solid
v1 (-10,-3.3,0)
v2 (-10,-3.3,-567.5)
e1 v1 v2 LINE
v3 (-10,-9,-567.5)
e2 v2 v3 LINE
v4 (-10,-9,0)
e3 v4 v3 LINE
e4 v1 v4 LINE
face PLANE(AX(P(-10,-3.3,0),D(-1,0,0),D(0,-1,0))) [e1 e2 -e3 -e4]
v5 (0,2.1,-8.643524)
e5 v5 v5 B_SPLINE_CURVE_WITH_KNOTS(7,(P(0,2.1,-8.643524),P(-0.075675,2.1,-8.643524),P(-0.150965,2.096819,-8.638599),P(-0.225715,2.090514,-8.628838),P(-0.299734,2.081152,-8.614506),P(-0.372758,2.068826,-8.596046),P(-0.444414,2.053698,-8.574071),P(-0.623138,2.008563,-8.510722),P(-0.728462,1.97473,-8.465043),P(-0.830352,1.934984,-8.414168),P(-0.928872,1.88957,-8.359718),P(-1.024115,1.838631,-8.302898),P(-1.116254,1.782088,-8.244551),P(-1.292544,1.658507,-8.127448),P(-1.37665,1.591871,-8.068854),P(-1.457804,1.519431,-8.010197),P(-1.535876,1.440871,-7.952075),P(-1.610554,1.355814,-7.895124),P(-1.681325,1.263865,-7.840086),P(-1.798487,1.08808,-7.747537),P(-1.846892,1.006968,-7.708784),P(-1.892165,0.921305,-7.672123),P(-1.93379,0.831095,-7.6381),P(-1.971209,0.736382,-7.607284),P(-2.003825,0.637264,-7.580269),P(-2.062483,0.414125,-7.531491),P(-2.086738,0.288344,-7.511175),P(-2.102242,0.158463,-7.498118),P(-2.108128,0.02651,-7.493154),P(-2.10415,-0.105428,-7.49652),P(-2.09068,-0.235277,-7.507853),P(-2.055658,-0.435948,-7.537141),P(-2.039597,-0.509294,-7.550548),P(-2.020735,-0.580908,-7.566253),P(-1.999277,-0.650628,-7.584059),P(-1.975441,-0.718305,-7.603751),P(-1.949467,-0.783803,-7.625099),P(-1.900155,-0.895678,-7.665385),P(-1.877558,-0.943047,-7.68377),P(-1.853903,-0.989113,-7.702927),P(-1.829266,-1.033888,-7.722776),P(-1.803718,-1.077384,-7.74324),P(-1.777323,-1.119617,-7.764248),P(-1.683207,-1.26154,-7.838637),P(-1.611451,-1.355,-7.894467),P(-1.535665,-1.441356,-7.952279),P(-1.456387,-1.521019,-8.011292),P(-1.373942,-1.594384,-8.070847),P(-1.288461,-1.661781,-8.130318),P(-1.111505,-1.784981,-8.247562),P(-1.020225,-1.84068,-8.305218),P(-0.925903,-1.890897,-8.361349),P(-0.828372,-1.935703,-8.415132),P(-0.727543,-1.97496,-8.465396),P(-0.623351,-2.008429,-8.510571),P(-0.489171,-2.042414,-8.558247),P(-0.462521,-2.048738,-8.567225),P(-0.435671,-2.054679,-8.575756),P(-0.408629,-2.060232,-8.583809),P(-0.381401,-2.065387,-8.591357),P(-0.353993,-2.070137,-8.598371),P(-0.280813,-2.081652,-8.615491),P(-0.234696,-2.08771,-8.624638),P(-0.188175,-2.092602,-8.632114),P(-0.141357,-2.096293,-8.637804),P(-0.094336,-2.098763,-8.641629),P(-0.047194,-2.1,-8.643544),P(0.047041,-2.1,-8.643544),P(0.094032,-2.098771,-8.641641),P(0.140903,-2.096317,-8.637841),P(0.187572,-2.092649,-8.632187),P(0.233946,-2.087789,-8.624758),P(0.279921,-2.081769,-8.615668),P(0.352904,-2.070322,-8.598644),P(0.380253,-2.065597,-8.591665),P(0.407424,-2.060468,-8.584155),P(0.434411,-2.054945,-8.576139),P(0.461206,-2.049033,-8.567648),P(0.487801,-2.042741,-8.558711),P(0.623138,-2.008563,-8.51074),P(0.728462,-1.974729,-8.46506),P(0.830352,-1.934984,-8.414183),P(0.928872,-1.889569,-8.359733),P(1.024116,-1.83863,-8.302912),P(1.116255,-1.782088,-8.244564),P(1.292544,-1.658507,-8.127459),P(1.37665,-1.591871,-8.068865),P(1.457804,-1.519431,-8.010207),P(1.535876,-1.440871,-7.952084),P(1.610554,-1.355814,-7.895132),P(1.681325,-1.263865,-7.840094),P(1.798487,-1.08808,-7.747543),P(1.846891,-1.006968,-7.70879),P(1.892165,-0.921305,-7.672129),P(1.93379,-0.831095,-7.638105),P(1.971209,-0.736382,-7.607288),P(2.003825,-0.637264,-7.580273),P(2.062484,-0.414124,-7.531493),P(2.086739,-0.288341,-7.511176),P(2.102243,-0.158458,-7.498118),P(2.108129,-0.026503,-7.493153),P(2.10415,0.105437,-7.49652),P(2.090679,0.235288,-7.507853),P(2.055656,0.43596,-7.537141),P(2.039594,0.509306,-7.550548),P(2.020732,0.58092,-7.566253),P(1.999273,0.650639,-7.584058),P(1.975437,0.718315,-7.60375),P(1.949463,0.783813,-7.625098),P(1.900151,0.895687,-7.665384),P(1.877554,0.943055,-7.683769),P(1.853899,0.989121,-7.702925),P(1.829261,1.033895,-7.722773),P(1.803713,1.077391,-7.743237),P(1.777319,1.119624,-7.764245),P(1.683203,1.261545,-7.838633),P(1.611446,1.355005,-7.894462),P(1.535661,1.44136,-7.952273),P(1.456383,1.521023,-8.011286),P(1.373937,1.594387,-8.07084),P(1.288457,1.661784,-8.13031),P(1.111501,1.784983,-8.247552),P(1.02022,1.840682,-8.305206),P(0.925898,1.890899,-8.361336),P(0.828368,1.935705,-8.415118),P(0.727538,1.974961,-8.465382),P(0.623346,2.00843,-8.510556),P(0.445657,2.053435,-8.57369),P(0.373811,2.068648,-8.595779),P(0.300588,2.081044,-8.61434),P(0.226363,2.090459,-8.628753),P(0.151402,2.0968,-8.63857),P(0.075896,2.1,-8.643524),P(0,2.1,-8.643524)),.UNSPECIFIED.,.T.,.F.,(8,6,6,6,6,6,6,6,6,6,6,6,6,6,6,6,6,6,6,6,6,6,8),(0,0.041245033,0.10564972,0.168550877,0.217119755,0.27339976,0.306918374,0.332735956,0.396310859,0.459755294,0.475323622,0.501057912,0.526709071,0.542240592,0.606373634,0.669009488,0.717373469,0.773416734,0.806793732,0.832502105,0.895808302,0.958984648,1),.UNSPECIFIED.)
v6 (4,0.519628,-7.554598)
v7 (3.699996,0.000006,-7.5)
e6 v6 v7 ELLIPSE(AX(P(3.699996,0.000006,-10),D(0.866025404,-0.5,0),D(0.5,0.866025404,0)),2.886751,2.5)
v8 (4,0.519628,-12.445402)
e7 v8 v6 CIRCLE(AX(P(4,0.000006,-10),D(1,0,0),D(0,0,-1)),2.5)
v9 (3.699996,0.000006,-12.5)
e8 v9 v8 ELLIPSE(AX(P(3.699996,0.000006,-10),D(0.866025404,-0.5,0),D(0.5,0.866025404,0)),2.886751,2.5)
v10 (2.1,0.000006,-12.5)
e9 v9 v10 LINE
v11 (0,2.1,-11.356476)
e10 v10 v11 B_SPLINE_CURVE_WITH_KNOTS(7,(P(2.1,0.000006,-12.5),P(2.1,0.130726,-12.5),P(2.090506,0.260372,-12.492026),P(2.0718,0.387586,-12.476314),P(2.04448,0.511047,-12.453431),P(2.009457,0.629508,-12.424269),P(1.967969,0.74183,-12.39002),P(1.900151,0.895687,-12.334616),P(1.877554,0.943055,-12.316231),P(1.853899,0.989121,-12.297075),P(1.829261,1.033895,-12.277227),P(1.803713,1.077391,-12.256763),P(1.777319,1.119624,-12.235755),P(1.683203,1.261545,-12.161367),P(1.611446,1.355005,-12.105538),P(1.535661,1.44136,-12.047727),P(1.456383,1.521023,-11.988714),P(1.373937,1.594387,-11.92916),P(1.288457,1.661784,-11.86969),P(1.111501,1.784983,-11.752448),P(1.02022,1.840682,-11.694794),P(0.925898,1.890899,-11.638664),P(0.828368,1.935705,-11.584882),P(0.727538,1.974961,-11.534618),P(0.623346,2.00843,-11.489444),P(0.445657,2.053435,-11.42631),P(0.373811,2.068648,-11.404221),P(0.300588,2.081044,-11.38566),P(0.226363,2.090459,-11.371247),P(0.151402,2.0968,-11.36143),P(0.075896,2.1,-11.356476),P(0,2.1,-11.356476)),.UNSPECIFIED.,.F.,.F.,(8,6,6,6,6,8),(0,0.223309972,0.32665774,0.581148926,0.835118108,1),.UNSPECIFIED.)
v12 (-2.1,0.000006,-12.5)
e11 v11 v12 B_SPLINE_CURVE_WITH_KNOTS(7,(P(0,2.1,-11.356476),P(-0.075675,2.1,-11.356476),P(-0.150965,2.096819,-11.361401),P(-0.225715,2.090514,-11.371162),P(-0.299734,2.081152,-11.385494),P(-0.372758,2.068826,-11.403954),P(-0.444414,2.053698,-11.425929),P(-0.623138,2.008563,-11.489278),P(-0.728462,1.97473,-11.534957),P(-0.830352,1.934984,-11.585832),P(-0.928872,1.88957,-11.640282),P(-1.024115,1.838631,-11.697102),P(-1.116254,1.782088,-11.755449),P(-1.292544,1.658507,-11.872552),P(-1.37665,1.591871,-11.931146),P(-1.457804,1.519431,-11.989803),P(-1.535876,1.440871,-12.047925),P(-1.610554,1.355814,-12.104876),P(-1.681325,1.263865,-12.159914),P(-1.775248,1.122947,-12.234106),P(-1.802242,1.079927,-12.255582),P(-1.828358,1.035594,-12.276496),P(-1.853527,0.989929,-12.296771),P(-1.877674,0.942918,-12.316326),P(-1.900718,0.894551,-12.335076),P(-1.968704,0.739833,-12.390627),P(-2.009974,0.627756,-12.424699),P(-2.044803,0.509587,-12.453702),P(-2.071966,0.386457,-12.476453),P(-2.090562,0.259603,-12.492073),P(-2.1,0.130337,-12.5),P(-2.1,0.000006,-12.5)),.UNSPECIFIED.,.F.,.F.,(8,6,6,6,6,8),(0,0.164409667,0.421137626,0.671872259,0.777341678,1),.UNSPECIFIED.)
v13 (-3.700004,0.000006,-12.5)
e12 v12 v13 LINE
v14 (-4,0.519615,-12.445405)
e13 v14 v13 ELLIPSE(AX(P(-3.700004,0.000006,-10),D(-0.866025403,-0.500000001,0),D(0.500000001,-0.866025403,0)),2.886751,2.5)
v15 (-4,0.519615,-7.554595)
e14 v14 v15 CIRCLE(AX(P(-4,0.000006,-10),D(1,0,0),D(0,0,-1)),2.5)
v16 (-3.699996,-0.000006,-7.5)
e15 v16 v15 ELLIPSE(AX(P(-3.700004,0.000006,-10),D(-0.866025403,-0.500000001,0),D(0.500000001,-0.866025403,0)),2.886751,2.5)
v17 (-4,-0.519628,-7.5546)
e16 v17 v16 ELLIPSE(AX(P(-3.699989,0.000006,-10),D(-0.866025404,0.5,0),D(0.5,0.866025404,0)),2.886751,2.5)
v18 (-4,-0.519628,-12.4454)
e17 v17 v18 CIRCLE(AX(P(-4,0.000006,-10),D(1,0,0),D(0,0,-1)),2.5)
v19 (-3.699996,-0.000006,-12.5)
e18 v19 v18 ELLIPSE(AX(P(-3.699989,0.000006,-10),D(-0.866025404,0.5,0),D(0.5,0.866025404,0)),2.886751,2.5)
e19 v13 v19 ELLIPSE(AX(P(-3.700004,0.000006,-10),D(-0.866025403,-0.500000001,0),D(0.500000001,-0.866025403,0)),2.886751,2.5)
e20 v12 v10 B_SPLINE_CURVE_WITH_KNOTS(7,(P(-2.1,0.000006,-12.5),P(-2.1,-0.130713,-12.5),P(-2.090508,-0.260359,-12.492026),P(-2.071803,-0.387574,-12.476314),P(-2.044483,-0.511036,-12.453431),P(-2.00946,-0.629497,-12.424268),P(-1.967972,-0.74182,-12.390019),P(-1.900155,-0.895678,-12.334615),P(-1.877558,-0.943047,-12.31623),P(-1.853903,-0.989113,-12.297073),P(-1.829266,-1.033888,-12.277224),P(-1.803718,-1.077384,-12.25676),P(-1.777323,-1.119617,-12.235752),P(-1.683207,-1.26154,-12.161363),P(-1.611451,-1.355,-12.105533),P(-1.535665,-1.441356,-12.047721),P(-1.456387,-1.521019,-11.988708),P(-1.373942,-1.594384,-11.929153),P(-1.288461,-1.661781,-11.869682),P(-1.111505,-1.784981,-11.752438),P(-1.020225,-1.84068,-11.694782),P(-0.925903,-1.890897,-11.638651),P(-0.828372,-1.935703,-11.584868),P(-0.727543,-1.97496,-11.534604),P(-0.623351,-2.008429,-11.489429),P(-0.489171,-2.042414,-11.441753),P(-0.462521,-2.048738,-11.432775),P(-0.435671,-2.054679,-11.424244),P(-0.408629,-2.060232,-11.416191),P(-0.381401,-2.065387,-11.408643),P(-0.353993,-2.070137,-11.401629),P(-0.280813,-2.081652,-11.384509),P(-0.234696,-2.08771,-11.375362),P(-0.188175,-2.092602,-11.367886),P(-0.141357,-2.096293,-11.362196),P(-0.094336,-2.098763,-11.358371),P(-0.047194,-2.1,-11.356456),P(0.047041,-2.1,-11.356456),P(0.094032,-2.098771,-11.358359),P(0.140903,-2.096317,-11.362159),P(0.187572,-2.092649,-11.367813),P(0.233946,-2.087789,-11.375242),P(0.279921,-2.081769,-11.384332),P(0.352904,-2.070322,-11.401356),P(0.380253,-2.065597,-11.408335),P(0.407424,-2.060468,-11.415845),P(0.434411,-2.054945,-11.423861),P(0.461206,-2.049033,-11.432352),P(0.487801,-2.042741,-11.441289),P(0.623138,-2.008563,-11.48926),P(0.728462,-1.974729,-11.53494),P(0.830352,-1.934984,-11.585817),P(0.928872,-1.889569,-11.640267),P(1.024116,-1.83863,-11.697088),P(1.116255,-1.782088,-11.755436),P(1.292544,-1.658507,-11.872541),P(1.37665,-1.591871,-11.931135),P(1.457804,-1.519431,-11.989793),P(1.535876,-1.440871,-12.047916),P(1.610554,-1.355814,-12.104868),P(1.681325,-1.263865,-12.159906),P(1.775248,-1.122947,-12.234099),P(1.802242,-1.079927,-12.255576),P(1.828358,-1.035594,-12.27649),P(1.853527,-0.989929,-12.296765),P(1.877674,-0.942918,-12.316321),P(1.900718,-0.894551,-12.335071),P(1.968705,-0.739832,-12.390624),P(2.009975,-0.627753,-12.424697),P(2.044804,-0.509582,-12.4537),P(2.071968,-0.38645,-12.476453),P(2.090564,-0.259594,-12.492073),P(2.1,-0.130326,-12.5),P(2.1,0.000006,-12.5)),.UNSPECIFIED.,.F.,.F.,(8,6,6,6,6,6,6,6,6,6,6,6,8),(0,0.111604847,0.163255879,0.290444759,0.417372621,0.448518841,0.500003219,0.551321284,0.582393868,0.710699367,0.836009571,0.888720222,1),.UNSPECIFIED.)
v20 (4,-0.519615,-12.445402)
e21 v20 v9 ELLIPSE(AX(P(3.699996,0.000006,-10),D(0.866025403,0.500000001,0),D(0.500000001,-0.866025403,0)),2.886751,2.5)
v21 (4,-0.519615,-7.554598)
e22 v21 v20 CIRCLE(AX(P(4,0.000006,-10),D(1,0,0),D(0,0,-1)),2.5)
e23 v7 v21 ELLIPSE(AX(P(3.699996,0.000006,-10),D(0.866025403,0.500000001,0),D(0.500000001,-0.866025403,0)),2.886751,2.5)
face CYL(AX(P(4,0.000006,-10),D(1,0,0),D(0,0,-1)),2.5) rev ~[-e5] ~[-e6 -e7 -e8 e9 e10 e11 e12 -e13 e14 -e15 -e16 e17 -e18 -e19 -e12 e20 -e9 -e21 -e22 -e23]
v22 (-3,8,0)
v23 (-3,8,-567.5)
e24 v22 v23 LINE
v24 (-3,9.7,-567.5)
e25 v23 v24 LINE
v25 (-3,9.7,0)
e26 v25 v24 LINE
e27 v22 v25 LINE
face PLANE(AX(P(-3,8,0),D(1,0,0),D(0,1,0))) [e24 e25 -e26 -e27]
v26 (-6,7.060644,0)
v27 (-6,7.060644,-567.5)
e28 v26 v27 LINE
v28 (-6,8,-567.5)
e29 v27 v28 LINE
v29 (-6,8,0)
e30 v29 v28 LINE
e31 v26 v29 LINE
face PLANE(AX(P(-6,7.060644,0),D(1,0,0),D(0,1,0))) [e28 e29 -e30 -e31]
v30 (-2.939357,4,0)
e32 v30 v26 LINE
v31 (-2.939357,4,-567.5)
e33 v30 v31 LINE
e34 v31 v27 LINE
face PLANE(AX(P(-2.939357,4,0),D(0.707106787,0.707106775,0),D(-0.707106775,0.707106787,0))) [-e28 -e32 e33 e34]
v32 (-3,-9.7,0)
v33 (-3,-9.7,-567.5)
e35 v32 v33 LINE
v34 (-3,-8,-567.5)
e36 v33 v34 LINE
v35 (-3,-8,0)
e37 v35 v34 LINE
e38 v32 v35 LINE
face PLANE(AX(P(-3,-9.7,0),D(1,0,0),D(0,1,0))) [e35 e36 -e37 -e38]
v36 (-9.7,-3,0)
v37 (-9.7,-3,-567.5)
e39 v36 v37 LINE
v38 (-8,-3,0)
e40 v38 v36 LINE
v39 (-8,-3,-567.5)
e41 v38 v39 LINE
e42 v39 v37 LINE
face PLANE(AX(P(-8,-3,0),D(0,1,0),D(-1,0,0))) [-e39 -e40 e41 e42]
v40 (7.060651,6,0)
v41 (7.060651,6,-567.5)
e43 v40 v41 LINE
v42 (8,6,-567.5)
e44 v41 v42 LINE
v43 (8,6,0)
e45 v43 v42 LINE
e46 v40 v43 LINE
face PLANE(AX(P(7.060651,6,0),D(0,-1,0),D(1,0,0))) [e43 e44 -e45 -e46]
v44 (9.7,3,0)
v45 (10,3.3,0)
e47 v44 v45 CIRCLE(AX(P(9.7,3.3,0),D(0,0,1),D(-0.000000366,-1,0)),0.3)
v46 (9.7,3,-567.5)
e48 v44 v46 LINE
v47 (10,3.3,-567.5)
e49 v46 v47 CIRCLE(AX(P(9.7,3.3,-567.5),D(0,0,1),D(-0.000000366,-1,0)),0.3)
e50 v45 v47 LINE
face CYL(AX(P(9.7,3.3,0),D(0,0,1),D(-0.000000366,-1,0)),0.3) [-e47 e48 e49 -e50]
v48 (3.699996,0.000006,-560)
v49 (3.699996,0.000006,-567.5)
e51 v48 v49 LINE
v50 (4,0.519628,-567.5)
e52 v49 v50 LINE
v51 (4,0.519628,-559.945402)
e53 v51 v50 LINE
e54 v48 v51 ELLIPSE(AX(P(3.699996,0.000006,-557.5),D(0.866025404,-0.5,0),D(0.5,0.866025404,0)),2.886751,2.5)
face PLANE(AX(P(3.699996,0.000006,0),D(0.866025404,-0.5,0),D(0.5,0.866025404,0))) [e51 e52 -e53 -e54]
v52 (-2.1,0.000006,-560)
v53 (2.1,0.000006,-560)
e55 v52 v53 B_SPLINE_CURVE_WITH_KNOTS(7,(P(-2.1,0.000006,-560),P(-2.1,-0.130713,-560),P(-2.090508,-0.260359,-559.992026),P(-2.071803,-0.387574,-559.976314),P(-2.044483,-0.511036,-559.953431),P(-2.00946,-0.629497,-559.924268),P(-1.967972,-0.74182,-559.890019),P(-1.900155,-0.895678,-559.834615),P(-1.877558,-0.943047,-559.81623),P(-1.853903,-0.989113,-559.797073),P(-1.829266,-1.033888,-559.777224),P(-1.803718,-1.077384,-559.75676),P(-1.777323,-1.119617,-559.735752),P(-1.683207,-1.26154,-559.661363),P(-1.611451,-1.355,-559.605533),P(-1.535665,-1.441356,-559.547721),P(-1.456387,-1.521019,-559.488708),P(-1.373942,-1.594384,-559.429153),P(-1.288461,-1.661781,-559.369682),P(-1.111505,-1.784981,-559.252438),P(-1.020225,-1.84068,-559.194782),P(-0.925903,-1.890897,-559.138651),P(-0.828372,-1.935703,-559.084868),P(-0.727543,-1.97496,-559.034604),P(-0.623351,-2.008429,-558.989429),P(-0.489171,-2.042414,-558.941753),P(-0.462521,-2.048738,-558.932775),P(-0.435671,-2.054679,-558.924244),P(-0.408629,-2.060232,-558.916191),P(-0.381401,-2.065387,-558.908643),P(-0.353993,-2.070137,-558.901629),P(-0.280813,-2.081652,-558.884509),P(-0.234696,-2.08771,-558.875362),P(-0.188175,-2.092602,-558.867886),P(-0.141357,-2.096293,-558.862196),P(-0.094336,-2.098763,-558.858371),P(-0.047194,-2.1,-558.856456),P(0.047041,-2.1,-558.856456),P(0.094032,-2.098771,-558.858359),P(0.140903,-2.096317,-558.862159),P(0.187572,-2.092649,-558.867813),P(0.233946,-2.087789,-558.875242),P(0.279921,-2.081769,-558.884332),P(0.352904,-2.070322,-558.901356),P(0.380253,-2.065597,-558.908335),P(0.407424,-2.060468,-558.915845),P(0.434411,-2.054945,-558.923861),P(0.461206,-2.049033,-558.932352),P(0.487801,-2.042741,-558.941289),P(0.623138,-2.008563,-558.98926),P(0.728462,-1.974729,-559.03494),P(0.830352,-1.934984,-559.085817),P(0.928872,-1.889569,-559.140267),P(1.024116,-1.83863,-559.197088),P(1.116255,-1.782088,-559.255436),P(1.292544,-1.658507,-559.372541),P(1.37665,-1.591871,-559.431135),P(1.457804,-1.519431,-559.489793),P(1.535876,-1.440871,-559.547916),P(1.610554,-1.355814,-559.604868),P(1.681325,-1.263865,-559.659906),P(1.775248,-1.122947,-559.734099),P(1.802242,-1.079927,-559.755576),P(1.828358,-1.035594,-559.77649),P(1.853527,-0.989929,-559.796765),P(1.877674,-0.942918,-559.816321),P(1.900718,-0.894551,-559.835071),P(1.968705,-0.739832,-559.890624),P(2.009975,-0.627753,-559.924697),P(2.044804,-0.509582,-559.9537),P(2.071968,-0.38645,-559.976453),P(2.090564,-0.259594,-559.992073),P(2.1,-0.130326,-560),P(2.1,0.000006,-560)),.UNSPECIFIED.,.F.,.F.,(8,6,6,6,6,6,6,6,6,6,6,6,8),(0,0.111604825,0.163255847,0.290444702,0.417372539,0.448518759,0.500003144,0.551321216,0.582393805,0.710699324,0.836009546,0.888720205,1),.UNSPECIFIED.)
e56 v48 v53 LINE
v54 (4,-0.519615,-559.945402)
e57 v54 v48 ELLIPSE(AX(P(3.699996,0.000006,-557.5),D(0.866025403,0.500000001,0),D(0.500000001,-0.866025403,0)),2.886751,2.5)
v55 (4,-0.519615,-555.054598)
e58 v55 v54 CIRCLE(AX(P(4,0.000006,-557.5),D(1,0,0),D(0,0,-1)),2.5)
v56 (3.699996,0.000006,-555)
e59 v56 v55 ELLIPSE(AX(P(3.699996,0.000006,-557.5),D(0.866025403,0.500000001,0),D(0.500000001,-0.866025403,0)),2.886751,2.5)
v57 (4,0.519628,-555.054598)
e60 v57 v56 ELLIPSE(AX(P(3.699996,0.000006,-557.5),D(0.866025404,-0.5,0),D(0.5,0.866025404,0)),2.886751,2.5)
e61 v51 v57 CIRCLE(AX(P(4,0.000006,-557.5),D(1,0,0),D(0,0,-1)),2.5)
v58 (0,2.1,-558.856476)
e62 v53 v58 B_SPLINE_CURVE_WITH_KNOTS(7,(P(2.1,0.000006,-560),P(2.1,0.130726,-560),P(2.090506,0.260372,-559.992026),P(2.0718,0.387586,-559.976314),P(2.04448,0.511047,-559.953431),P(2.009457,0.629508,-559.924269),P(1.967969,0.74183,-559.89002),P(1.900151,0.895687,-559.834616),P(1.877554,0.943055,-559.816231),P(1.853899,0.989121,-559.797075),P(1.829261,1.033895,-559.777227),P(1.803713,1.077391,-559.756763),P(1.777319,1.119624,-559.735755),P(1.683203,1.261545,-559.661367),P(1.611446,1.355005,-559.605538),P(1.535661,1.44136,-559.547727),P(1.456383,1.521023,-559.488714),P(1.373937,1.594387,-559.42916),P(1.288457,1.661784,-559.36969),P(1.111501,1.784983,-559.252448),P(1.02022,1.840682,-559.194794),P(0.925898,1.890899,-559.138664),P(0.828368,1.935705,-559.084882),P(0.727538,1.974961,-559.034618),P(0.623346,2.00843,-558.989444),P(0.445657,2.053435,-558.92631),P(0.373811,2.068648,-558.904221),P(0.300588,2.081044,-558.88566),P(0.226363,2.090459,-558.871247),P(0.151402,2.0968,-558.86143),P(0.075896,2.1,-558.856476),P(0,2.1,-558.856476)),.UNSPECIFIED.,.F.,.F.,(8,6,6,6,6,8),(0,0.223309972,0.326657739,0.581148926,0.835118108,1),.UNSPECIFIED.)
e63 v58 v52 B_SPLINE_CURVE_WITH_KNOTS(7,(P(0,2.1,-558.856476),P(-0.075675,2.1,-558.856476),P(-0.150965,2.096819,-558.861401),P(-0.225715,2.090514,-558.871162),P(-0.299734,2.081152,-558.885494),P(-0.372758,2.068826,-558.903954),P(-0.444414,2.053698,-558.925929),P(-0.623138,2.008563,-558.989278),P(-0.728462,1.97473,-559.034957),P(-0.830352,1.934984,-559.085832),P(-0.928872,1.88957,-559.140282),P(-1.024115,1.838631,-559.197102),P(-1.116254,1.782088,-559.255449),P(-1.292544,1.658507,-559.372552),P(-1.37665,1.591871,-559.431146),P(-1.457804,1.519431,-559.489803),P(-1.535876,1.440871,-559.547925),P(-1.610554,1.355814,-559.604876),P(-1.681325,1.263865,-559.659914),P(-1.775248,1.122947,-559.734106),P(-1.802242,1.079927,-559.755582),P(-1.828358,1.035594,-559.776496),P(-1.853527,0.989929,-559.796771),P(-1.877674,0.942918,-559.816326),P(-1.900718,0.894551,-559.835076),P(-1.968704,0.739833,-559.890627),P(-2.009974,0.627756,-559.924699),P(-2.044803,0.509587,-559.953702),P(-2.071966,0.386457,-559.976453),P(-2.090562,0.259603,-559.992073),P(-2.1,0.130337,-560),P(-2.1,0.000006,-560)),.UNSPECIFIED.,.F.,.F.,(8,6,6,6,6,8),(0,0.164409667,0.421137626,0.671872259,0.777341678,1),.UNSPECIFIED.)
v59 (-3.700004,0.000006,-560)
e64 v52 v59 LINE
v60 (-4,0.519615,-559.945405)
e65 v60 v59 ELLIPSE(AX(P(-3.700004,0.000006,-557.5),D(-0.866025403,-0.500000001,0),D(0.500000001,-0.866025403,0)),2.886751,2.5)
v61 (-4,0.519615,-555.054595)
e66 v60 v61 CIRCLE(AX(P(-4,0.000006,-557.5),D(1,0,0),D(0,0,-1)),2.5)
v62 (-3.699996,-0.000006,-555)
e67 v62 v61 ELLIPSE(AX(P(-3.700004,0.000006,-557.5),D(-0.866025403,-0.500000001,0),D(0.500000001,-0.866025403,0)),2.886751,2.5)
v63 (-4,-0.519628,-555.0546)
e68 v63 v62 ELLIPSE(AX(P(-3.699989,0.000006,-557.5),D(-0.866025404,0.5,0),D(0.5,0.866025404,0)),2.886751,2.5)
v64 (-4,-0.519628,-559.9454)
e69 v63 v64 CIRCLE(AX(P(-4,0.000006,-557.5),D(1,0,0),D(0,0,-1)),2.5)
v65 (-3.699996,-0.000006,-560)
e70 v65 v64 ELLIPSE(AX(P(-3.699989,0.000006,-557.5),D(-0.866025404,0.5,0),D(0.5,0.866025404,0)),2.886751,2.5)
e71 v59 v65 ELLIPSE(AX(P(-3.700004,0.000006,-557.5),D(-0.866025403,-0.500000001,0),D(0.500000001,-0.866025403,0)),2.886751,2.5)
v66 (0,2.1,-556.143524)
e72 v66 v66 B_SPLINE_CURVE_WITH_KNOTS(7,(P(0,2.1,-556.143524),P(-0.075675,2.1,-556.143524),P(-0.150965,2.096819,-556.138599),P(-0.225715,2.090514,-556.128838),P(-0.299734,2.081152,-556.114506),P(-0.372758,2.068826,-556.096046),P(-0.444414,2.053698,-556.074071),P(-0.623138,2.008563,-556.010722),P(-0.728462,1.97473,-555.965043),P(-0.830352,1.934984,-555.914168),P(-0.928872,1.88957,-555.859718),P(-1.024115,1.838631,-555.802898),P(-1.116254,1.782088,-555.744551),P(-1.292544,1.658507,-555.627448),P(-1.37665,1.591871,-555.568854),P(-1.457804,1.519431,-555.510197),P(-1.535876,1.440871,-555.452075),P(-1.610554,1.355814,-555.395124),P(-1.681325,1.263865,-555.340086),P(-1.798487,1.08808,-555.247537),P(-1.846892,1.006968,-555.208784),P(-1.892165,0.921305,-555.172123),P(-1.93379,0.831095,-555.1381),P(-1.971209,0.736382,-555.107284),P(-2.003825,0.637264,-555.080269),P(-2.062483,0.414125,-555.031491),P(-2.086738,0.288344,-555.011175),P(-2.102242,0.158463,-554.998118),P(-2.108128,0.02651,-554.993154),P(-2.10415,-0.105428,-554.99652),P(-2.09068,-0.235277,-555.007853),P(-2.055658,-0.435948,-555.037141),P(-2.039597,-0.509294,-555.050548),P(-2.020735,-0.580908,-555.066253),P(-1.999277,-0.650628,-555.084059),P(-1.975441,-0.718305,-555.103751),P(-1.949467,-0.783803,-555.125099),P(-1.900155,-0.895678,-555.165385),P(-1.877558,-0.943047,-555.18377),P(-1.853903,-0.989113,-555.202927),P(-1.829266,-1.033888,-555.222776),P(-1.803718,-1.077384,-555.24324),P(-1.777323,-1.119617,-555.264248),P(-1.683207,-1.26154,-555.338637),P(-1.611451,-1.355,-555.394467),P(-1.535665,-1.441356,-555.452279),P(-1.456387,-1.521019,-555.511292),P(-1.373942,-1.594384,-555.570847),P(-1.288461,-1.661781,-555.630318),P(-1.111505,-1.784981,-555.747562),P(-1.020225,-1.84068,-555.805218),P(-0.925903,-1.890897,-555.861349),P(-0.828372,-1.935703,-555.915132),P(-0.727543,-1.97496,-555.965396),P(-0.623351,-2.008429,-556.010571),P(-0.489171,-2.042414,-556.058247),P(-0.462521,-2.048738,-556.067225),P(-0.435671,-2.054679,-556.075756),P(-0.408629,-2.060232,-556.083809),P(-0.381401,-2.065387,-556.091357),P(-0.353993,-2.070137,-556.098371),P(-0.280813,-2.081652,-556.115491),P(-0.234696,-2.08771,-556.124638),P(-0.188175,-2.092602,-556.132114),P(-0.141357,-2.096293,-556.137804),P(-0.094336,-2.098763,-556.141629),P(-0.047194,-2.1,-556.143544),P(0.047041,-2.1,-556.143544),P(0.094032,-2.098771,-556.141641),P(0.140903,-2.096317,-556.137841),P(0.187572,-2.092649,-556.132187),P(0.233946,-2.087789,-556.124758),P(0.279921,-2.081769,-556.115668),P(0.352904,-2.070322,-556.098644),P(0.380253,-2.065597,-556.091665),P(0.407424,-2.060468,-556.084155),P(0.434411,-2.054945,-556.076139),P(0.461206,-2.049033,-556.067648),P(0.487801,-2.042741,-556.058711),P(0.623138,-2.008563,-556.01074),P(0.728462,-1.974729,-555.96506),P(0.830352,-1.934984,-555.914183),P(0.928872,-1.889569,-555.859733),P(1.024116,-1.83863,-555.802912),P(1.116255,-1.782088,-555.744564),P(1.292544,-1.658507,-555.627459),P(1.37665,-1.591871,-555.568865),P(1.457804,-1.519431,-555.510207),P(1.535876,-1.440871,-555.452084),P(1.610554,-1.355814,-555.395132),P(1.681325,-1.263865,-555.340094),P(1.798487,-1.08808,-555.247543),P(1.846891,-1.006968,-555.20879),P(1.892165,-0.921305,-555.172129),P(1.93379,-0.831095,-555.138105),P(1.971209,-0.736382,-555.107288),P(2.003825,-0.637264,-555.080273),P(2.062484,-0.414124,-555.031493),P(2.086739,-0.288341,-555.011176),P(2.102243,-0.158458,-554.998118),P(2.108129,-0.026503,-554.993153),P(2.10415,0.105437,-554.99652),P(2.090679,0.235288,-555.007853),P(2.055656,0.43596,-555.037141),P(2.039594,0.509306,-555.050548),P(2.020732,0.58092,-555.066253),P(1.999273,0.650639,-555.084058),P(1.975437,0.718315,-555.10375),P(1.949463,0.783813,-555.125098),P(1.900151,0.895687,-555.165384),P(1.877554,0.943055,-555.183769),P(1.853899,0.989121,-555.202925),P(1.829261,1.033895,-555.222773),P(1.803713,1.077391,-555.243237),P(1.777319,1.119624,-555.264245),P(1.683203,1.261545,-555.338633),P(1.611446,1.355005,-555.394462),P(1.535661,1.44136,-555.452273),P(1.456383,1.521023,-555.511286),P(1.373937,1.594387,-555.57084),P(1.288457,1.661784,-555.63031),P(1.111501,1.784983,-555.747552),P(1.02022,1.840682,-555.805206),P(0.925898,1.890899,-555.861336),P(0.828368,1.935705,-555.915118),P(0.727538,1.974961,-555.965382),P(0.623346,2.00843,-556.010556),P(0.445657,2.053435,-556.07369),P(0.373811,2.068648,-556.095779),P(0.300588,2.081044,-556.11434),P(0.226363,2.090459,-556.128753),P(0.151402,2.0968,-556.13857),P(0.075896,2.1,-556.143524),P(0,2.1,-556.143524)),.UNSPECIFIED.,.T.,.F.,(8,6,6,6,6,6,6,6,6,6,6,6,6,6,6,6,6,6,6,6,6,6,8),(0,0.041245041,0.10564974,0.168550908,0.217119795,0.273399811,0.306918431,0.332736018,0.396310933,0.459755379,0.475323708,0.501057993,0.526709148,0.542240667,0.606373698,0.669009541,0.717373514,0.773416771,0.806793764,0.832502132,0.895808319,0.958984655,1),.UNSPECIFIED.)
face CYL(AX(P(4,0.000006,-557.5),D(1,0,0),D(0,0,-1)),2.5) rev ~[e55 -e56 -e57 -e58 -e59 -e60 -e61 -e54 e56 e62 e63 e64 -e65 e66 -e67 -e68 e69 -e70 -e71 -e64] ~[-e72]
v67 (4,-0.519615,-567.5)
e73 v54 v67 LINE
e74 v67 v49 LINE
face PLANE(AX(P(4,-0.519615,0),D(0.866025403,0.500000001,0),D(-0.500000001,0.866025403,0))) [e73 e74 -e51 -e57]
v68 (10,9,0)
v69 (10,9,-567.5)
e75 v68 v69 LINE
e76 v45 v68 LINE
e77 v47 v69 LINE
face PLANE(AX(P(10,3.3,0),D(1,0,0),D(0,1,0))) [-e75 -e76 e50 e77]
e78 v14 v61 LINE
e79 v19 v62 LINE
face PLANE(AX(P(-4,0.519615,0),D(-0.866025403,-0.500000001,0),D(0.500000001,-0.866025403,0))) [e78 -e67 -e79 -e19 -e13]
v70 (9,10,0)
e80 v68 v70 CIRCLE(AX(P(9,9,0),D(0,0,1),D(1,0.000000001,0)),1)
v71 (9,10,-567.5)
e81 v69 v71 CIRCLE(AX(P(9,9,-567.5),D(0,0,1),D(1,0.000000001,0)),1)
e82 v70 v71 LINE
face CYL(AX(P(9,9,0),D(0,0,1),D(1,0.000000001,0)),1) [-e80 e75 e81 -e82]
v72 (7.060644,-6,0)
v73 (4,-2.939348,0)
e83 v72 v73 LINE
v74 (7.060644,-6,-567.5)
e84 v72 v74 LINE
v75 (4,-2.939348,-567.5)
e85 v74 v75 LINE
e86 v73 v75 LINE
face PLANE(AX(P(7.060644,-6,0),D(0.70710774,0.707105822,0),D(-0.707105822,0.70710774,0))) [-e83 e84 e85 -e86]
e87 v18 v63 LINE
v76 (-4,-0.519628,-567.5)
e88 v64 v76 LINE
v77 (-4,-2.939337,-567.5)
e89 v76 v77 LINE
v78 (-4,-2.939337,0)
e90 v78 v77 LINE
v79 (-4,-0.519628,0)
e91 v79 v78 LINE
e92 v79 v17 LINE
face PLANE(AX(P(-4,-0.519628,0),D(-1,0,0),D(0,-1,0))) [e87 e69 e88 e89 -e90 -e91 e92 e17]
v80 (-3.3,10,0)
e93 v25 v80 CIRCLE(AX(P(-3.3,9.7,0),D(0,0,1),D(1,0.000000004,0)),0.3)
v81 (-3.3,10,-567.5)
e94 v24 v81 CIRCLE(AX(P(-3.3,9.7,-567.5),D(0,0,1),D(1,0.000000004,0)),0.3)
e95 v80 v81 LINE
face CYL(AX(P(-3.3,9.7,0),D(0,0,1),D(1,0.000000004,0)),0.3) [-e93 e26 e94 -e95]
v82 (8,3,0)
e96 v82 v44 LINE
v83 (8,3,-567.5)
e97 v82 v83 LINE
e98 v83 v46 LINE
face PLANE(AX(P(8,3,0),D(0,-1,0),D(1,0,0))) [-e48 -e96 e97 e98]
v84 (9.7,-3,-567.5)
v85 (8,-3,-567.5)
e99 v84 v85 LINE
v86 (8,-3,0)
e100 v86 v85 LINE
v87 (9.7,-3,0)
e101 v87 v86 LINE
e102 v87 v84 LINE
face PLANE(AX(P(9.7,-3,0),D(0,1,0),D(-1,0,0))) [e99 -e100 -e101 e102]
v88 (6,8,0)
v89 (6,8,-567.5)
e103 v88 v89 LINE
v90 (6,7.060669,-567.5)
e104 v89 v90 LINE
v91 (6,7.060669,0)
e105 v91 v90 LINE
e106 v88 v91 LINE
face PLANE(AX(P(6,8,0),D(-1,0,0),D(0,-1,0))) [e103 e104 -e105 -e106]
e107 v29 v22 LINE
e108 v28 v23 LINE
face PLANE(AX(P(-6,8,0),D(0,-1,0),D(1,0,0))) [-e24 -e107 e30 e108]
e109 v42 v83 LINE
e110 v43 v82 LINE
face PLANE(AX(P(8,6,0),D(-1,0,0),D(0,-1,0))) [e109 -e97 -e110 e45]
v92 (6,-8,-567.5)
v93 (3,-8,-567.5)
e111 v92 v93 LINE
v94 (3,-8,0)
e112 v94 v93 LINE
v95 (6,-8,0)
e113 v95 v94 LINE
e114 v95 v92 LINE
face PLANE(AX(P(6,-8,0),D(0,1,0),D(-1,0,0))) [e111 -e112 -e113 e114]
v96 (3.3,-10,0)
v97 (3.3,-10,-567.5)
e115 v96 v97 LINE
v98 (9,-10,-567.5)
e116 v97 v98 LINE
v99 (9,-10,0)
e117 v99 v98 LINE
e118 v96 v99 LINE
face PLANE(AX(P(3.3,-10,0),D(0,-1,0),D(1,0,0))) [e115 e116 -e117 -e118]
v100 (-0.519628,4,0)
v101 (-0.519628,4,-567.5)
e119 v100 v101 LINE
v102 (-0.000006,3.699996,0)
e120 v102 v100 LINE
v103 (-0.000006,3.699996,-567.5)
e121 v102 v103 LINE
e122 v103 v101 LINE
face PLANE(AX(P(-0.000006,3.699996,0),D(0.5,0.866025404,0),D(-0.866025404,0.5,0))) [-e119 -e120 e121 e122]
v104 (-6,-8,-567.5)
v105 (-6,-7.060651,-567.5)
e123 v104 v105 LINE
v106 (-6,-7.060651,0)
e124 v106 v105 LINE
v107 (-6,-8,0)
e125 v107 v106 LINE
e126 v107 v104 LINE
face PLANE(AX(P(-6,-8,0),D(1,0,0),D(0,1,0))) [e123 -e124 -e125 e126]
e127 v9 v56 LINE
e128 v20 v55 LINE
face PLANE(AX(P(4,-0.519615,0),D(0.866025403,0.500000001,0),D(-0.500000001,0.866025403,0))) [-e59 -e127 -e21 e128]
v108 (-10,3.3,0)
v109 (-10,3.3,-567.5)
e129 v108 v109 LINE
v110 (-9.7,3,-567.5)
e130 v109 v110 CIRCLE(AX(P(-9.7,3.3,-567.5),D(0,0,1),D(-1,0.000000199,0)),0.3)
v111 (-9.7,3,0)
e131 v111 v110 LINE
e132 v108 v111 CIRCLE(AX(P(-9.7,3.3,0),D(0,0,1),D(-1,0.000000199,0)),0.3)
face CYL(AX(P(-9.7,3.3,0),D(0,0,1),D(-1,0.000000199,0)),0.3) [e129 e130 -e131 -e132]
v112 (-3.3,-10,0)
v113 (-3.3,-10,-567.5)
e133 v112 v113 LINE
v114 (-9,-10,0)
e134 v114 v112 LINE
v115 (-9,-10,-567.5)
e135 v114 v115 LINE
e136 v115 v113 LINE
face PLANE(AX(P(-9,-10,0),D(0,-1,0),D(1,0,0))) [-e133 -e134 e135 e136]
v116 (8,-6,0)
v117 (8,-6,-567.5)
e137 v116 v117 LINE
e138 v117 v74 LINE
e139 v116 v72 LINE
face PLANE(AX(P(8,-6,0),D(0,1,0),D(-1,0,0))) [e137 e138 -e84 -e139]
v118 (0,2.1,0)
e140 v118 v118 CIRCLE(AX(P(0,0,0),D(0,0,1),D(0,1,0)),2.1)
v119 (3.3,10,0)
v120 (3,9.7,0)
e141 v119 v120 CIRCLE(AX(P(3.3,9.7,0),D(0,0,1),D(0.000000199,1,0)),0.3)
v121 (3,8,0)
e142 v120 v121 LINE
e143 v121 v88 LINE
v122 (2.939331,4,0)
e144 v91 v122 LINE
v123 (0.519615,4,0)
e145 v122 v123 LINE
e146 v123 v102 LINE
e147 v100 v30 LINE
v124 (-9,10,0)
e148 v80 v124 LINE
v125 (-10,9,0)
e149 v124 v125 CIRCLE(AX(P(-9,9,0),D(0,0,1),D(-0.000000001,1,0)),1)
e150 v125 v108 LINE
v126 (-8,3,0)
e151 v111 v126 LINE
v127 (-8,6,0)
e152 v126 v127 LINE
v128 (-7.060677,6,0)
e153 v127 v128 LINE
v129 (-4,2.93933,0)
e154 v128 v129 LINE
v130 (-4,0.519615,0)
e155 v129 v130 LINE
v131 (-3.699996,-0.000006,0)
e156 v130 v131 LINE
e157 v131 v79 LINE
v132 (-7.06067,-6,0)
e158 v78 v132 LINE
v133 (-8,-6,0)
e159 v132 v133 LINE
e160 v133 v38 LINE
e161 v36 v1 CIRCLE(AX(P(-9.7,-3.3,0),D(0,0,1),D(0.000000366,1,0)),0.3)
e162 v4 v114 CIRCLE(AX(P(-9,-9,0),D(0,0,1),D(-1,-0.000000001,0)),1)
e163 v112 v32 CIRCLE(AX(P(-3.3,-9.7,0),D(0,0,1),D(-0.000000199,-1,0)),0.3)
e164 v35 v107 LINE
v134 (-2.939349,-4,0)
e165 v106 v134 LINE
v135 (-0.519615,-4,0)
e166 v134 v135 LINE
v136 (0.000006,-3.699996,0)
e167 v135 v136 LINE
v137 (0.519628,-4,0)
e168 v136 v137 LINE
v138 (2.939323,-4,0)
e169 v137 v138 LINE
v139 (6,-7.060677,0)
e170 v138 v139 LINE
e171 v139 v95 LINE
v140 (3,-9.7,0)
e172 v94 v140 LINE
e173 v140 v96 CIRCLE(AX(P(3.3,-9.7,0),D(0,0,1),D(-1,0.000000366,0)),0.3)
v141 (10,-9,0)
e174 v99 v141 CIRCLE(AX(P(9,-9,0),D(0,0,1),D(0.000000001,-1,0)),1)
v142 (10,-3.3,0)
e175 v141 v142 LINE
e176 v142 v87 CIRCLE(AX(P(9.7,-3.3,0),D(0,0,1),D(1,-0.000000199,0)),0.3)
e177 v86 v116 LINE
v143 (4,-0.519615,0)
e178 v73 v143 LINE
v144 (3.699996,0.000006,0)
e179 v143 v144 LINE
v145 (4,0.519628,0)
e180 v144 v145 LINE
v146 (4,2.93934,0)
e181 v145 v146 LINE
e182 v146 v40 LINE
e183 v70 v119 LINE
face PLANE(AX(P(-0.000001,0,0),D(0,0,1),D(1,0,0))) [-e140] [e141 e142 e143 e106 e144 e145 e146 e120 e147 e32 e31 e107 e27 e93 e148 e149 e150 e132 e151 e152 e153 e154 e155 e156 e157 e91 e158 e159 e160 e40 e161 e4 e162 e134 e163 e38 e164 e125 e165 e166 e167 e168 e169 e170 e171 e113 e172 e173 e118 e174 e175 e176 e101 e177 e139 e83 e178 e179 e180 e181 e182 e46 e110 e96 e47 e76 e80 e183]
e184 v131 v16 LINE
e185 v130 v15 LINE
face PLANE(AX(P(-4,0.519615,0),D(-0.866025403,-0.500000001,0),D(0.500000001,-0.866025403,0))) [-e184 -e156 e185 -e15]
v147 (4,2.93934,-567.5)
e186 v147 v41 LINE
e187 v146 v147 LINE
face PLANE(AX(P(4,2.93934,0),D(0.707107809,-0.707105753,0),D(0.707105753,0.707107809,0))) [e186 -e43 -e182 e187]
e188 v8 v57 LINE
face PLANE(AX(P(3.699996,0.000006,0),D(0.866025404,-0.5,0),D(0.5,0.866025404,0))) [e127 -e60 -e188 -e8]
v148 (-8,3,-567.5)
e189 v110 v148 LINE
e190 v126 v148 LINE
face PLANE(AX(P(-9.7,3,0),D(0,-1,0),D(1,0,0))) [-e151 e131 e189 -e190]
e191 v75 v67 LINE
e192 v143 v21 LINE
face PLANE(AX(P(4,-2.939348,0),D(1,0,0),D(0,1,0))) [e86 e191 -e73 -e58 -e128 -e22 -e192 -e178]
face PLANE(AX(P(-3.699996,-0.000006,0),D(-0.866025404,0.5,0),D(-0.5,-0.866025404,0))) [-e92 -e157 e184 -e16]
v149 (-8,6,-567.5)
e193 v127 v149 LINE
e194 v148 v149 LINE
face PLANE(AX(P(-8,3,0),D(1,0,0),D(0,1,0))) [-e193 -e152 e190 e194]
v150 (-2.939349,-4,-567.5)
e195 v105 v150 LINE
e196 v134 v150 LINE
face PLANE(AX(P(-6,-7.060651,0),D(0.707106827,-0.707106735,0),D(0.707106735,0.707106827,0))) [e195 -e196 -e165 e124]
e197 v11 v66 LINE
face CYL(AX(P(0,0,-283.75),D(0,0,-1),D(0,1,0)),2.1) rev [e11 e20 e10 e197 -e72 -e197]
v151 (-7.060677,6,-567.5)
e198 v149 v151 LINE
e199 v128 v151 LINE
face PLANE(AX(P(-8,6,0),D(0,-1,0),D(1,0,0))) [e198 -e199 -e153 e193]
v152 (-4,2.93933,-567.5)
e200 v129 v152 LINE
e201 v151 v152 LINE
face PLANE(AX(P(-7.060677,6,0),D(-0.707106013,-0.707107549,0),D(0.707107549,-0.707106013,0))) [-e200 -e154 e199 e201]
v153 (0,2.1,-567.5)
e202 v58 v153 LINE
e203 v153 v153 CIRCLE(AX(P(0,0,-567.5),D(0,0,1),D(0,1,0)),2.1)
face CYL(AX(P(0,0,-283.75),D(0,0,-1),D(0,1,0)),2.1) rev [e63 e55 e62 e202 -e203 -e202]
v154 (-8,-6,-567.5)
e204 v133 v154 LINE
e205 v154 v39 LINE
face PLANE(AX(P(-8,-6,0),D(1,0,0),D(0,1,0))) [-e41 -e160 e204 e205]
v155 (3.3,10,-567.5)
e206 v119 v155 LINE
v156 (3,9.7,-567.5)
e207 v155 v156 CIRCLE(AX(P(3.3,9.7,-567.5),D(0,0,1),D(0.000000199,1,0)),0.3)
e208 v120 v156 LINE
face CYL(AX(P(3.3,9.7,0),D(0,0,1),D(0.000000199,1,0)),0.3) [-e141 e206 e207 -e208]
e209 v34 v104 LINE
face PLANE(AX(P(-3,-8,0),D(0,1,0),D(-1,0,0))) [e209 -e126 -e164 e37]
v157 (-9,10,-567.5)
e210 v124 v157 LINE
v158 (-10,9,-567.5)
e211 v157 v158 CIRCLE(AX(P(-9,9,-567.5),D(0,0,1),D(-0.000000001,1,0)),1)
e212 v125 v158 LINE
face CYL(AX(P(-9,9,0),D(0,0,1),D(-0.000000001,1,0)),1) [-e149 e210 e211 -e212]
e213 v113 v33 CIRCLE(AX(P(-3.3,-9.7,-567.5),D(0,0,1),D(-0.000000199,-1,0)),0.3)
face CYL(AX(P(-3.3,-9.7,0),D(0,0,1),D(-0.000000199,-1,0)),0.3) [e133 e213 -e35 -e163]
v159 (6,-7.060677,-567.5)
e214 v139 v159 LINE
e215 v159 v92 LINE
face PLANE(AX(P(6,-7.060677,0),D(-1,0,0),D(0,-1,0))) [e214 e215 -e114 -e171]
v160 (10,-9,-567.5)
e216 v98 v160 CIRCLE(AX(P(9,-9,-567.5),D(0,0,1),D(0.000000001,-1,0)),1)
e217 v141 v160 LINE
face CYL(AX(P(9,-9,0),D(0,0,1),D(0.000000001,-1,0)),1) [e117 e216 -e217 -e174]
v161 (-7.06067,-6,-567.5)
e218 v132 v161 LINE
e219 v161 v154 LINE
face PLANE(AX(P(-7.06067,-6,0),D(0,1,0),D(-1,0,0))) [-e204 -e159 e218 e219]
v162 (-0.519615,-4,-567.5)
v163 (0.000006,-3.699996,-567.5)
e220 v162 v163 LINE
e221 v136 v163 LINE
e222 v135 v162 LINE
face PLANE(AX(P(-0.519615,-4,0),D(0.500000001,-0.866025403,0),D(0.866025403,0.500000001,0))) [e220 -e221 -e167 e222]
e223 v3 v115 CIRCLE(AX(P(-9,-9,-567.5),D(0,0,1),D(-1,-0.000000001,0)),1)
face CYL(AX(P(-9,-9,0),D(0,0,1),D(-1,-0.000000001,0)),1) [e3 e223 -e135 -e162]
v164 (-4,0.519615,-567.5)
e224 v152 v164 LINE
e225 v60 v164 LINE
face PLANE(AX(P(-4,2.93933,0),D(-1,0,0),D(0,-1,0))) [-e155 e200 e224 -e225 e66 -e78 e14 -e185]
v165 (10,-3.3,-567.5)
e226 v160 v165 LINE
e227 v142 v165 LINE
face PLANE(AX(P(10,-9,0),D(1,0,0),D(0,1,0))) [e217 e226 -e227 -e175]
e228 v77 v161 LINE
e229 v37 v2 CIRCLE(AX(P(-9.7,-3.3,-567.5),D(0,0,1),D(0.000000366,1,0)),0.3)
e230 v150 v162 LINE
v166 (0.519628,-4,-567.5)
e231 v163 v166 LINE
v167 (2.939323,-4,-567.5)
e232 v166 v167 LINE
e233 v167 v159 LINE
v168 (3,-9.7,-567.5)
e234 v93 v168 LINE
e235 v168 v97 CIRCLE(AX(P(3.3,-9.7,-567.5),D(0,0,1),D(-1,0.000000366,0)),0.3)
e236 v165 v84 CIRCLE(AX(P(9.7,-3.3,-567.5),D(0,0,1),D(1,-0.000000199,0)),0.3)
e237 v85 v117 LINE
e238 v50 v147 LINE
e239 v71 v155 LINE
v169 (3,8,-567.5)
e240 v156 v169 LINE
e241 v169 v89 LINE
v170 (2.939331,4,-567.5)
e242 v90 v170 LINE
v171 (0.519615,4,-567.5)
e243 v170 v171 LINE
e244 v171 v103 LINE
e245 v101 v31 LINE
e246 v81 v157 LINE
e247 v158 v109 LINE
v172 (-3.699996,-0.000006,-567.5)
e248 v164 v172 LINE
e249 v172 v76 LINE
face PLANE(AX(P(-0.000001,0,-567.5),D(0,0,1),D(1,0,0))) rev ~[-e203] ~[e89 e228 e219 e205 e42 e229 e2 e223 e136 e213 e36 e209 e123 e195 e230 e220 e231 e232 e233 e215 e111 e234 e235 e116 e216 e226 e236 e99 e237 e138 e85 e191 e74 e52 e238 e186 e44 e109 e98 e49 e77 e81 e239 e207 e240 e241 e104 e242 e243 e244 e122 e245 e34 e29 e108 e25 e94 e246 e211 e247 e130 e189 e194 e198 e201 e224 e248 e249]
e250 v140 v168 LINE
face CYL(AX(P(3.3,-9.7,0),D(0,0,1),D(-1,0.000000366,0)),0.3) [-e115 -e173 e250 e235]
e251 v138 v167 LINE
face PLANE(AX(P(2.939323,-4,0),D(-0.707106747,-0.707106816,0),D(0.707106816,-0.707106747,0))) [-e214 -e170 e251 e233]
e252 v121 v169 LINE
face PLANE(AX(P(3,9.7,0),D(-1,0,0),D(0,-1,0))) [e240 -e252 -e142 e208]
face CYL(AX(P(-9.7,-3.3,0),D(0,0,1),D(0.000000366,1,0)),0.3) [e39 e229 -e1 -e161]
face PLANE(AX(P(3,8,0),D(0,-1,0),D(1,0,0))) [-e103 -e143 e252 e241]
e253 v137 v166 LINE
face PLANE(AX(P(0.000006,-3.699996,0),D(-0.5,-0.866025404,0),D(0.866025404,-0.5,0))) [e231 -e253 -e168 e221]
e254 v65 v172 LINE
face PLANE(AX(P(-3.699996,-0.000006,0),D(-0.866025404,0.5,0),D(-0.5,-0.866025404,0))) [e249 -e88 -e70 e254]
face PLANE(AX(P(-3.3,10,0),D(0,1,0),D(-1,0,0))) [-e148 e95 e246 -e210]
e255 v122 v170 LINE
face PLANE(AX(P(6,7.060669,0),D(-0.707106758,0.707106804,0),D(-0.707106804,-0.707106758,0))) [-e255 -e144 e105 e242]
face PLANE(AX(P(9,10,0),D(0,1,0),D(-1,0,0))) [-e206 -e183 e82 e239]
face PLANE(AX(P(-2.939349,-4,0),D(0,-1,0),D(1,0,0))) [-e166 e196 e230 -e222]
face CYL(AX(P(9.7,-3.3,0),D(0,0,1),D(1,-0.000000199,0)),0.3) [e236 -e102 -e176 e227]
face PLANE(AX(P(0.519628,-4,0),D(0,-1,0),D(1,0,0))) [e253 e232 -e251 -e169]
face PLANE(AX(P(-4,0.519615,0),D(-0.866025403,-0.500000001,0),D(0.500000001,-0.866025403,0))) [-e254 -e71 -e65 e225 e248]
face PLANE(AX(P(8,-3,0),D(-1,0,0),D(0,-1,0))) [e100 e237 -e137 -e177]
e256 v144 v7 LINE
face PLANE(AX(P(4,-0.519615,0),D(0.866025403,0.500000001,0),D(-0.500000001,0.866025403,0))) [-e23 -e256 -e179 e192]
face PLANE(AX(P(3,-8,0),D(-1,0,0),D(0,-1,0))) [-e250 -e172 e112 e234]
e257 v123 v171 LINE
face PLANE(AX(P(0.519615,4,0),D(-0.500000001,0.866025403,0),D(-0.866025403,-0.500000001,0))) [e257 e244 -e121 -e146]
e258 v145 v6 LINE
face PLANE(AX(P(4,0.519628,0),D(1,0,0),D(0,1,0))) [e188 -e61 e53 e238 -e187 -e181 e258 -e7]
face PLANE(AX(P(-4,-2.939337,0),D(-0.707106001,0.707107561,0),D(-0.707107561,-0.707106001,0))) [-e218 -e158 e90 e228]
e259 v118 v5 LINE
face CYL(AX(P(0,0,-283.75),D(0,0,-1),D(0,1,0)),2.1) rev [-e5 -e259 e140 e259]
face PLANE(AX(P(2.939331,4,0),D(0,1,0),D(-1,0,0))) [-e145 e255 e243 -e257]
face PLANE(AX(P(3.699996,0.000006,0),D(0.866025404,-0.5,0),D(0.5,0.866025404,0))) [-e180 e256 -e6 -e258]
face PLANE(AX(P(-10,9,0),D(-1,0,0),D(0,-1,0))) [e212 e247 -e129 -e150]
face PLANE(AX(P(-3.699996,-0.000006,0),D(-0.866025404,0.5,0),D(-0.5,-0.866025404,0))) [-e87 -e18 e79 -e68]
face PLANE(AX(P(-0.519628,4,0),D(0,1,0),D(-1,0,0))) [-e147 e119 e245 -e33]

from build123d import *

# Parameters (mm, degrees)
BOSS_EXTRUDE1_DEPTH = 567.5
SKETCH2_W           = 567.5
SKETCH2_H           = 2.1
SKETCH4_R           = 2.5
CUT_EXTRUDE1_DEPTH  = 8


with BuildPart() as part:
    # Sketch1 → Boss-Extrude1 (new body)
    with BuildSketch(Plane.XY):
        with BuildLine():
            Line((-10, 9), (-10, 3.29999995))
            ThreePointArc((-10, 3.29999995), (-9.912132049, 3.087867916), (-9.7, 3))
            Line((-9.7, 3), (-8, 3))
            Line((-8, 3), (-8, 6))
            Line((-8, 6), (-7.060677, 6))
            Line((-7.060677, 6), (-4, 2.93932965))
            Line((-4, 2.93932965), (-4, 0.519615242))
            Line((-4, 0.519615242), (-3.699996283, -6.437e-06))
            Line((-3.699996283, -6.437e-06), (-4, -0.519628117))
            Line((-4, -0.519628117), (-4, -2.93933725))
            Line((-4, -2.93933725), (-7.0606695, -6))
            Line((-7.0606695, -6), (-8, -6))
            Line((-8, -6), (-8, -3))
            Line((-8, -3), (-9.7, -3))
            ThreePointArc((-9.7, -3), (-9.912132049, -3.087867916), (-10, -3.29999995))
            Line((-10, -3.29999995), (-10, -9))
            ThreePointArc((-10, -9), (-9.707106781, -9.707106781), (-9, -10))
            Line((-9, -10), (-3.29999995, -10))
            ThreePointArc((-3.29999995, -10), (-3.087867916, -9.912132049), (-3, -9.7))
            Line((-3, -9.7), (-3, -8))
            Line((-3, -8), (-6, -8))
            Line((-6, -8), (-6, -7.0606515))
            Line((-6, -7.0606515), (-2.9393489, -4))
            Line((-2.9393489, -4), (-0.519615242, -4))
            Line((-0.519615242, -4), (6.437e-06, -3.699996283))
            Line((6.437e-06, -3.699996283), (0.519628117, -4))
            Line((0.519628117, -4), (2.9393227, -4))
            Line((2.9393227, -4), (6, -7.060677))
            Line((6, -7.060677), (6, -8))
            Line((6, -8), (3, -8))
            Line((3, -8), (3, -9.7))
            ThreePointArc((3, -9.7), (3.087867916, -9.912132049), (3.29999995, -10))
            Line((3.29999995, -10), (9, -10))
            ThreePointArc((9, -10), (9.707106781, -9.707106781), (10, -9))
            Line((10, -9), (10, -3.29999995))
            ThreePointArc((10, -3.29999995), (9.912132049, -3.087867916), (9.7, -3))
            Line((9.7, -3), (8, -3))
            Line((8, -3), (8, -6))
            Line((8, -6), (7.0606435, -6))
            Line((7.0606435, -6), (4, -2.9393482))
            Line((4, -2.9393482), (4, -0.519615242))
            Line((4, -0.519615242), (3.699996283, 6.437e-06))
            Line((3.699996283, 6.437e-06), (4, 0.519628117))
            Line((4, 0.519628117), (4, 2.9393401))
            Line((4, 2.9393401), (7.060651, 6))
            Line((7.060651, 6), (8, 6))
            Line((8, 6), (8, 3))
            Line((8, 3), (9.7, 3))
            ThreePointArc((9.7, 3), (9.912132049, 3.087867916), (10, 3.29999995))
            Line((10, 3.29999995), (10, 9))
            ThreePointArc((10, 9), (9.707106781, 9.707106781), (9, 10))
            Line((9, 10), (3.29999995, 10))
            ThreePointArc((3.29999995, 10), (3.087867916, 9.912132049), (3, 9.7))
            Line((3, 9.7), (3, 8))
            Line((3, 8), (6, 8))
            Line((6, 8), (6, 7.060669))
            Line((6, 7.060669), (2.9393308, 4))
            Line((2.9393308, 4), (0.519615242, 4))
            Line((0.519615242, 4), (-6.437e-06, 3.699996283))
            Line((-6.437e-06, 3.699996283), (-0.519628117, 4))
            Line((-0.519628117, 4), (-2.93935655, 4))
            Line((-2.93935655, 4), (-6, 7.0606435))
            Line((-6, 7.0606435), (-6, 8))
            Line((-6, 8), (-3, 8))
            Line((-3, 8), (-3, 9.7))
            ThreePointArc((-3, 9.7), (-3.087867966, 9.912132034), (-3.3, 10))
            Line((-3.3, 10), (-9, 10))
            ThreePointArc((-9, 10), (-9.707106781, 9.707106781), (-10, 9))
        make_face()
    extrude(amount=-BOSS_EXTRUDE1_DEPTH)

    # Sketch2 → Cut-Revolve1 (revolve, cut)
    with BuildSketch(Plane(origin=(0, 0, 0), x_dir=(0, 0, -1), z_dir=(1, 0, 0))):
        with Locations((283.75, 1.05)):
            Rectangle(SKETCH2_W, SKETCH2_H)
    revolve(axis=Axis((0, 0, -567.5), (0, 0, 1)), mode=Mode.SUBTRACT)

    # Sketch4 → Cut-Extrude1 (cut)
    with BuildSketch(Plane(origin=(4, 0, 0), x_dir=(0, 0, -1), z_dir=(1, 0, 0))):
        with Locations((10, 6.437e-06)):
            Circle(SKETCH4_R)
        with Locations((557.5, 6.437e-06)):
            Circle(SKETCH4_R)
    extrude(amount=-CUT_EXTRUDE1_DEPTH, mode=Mode.SUBTRACT)


solid = part.part
